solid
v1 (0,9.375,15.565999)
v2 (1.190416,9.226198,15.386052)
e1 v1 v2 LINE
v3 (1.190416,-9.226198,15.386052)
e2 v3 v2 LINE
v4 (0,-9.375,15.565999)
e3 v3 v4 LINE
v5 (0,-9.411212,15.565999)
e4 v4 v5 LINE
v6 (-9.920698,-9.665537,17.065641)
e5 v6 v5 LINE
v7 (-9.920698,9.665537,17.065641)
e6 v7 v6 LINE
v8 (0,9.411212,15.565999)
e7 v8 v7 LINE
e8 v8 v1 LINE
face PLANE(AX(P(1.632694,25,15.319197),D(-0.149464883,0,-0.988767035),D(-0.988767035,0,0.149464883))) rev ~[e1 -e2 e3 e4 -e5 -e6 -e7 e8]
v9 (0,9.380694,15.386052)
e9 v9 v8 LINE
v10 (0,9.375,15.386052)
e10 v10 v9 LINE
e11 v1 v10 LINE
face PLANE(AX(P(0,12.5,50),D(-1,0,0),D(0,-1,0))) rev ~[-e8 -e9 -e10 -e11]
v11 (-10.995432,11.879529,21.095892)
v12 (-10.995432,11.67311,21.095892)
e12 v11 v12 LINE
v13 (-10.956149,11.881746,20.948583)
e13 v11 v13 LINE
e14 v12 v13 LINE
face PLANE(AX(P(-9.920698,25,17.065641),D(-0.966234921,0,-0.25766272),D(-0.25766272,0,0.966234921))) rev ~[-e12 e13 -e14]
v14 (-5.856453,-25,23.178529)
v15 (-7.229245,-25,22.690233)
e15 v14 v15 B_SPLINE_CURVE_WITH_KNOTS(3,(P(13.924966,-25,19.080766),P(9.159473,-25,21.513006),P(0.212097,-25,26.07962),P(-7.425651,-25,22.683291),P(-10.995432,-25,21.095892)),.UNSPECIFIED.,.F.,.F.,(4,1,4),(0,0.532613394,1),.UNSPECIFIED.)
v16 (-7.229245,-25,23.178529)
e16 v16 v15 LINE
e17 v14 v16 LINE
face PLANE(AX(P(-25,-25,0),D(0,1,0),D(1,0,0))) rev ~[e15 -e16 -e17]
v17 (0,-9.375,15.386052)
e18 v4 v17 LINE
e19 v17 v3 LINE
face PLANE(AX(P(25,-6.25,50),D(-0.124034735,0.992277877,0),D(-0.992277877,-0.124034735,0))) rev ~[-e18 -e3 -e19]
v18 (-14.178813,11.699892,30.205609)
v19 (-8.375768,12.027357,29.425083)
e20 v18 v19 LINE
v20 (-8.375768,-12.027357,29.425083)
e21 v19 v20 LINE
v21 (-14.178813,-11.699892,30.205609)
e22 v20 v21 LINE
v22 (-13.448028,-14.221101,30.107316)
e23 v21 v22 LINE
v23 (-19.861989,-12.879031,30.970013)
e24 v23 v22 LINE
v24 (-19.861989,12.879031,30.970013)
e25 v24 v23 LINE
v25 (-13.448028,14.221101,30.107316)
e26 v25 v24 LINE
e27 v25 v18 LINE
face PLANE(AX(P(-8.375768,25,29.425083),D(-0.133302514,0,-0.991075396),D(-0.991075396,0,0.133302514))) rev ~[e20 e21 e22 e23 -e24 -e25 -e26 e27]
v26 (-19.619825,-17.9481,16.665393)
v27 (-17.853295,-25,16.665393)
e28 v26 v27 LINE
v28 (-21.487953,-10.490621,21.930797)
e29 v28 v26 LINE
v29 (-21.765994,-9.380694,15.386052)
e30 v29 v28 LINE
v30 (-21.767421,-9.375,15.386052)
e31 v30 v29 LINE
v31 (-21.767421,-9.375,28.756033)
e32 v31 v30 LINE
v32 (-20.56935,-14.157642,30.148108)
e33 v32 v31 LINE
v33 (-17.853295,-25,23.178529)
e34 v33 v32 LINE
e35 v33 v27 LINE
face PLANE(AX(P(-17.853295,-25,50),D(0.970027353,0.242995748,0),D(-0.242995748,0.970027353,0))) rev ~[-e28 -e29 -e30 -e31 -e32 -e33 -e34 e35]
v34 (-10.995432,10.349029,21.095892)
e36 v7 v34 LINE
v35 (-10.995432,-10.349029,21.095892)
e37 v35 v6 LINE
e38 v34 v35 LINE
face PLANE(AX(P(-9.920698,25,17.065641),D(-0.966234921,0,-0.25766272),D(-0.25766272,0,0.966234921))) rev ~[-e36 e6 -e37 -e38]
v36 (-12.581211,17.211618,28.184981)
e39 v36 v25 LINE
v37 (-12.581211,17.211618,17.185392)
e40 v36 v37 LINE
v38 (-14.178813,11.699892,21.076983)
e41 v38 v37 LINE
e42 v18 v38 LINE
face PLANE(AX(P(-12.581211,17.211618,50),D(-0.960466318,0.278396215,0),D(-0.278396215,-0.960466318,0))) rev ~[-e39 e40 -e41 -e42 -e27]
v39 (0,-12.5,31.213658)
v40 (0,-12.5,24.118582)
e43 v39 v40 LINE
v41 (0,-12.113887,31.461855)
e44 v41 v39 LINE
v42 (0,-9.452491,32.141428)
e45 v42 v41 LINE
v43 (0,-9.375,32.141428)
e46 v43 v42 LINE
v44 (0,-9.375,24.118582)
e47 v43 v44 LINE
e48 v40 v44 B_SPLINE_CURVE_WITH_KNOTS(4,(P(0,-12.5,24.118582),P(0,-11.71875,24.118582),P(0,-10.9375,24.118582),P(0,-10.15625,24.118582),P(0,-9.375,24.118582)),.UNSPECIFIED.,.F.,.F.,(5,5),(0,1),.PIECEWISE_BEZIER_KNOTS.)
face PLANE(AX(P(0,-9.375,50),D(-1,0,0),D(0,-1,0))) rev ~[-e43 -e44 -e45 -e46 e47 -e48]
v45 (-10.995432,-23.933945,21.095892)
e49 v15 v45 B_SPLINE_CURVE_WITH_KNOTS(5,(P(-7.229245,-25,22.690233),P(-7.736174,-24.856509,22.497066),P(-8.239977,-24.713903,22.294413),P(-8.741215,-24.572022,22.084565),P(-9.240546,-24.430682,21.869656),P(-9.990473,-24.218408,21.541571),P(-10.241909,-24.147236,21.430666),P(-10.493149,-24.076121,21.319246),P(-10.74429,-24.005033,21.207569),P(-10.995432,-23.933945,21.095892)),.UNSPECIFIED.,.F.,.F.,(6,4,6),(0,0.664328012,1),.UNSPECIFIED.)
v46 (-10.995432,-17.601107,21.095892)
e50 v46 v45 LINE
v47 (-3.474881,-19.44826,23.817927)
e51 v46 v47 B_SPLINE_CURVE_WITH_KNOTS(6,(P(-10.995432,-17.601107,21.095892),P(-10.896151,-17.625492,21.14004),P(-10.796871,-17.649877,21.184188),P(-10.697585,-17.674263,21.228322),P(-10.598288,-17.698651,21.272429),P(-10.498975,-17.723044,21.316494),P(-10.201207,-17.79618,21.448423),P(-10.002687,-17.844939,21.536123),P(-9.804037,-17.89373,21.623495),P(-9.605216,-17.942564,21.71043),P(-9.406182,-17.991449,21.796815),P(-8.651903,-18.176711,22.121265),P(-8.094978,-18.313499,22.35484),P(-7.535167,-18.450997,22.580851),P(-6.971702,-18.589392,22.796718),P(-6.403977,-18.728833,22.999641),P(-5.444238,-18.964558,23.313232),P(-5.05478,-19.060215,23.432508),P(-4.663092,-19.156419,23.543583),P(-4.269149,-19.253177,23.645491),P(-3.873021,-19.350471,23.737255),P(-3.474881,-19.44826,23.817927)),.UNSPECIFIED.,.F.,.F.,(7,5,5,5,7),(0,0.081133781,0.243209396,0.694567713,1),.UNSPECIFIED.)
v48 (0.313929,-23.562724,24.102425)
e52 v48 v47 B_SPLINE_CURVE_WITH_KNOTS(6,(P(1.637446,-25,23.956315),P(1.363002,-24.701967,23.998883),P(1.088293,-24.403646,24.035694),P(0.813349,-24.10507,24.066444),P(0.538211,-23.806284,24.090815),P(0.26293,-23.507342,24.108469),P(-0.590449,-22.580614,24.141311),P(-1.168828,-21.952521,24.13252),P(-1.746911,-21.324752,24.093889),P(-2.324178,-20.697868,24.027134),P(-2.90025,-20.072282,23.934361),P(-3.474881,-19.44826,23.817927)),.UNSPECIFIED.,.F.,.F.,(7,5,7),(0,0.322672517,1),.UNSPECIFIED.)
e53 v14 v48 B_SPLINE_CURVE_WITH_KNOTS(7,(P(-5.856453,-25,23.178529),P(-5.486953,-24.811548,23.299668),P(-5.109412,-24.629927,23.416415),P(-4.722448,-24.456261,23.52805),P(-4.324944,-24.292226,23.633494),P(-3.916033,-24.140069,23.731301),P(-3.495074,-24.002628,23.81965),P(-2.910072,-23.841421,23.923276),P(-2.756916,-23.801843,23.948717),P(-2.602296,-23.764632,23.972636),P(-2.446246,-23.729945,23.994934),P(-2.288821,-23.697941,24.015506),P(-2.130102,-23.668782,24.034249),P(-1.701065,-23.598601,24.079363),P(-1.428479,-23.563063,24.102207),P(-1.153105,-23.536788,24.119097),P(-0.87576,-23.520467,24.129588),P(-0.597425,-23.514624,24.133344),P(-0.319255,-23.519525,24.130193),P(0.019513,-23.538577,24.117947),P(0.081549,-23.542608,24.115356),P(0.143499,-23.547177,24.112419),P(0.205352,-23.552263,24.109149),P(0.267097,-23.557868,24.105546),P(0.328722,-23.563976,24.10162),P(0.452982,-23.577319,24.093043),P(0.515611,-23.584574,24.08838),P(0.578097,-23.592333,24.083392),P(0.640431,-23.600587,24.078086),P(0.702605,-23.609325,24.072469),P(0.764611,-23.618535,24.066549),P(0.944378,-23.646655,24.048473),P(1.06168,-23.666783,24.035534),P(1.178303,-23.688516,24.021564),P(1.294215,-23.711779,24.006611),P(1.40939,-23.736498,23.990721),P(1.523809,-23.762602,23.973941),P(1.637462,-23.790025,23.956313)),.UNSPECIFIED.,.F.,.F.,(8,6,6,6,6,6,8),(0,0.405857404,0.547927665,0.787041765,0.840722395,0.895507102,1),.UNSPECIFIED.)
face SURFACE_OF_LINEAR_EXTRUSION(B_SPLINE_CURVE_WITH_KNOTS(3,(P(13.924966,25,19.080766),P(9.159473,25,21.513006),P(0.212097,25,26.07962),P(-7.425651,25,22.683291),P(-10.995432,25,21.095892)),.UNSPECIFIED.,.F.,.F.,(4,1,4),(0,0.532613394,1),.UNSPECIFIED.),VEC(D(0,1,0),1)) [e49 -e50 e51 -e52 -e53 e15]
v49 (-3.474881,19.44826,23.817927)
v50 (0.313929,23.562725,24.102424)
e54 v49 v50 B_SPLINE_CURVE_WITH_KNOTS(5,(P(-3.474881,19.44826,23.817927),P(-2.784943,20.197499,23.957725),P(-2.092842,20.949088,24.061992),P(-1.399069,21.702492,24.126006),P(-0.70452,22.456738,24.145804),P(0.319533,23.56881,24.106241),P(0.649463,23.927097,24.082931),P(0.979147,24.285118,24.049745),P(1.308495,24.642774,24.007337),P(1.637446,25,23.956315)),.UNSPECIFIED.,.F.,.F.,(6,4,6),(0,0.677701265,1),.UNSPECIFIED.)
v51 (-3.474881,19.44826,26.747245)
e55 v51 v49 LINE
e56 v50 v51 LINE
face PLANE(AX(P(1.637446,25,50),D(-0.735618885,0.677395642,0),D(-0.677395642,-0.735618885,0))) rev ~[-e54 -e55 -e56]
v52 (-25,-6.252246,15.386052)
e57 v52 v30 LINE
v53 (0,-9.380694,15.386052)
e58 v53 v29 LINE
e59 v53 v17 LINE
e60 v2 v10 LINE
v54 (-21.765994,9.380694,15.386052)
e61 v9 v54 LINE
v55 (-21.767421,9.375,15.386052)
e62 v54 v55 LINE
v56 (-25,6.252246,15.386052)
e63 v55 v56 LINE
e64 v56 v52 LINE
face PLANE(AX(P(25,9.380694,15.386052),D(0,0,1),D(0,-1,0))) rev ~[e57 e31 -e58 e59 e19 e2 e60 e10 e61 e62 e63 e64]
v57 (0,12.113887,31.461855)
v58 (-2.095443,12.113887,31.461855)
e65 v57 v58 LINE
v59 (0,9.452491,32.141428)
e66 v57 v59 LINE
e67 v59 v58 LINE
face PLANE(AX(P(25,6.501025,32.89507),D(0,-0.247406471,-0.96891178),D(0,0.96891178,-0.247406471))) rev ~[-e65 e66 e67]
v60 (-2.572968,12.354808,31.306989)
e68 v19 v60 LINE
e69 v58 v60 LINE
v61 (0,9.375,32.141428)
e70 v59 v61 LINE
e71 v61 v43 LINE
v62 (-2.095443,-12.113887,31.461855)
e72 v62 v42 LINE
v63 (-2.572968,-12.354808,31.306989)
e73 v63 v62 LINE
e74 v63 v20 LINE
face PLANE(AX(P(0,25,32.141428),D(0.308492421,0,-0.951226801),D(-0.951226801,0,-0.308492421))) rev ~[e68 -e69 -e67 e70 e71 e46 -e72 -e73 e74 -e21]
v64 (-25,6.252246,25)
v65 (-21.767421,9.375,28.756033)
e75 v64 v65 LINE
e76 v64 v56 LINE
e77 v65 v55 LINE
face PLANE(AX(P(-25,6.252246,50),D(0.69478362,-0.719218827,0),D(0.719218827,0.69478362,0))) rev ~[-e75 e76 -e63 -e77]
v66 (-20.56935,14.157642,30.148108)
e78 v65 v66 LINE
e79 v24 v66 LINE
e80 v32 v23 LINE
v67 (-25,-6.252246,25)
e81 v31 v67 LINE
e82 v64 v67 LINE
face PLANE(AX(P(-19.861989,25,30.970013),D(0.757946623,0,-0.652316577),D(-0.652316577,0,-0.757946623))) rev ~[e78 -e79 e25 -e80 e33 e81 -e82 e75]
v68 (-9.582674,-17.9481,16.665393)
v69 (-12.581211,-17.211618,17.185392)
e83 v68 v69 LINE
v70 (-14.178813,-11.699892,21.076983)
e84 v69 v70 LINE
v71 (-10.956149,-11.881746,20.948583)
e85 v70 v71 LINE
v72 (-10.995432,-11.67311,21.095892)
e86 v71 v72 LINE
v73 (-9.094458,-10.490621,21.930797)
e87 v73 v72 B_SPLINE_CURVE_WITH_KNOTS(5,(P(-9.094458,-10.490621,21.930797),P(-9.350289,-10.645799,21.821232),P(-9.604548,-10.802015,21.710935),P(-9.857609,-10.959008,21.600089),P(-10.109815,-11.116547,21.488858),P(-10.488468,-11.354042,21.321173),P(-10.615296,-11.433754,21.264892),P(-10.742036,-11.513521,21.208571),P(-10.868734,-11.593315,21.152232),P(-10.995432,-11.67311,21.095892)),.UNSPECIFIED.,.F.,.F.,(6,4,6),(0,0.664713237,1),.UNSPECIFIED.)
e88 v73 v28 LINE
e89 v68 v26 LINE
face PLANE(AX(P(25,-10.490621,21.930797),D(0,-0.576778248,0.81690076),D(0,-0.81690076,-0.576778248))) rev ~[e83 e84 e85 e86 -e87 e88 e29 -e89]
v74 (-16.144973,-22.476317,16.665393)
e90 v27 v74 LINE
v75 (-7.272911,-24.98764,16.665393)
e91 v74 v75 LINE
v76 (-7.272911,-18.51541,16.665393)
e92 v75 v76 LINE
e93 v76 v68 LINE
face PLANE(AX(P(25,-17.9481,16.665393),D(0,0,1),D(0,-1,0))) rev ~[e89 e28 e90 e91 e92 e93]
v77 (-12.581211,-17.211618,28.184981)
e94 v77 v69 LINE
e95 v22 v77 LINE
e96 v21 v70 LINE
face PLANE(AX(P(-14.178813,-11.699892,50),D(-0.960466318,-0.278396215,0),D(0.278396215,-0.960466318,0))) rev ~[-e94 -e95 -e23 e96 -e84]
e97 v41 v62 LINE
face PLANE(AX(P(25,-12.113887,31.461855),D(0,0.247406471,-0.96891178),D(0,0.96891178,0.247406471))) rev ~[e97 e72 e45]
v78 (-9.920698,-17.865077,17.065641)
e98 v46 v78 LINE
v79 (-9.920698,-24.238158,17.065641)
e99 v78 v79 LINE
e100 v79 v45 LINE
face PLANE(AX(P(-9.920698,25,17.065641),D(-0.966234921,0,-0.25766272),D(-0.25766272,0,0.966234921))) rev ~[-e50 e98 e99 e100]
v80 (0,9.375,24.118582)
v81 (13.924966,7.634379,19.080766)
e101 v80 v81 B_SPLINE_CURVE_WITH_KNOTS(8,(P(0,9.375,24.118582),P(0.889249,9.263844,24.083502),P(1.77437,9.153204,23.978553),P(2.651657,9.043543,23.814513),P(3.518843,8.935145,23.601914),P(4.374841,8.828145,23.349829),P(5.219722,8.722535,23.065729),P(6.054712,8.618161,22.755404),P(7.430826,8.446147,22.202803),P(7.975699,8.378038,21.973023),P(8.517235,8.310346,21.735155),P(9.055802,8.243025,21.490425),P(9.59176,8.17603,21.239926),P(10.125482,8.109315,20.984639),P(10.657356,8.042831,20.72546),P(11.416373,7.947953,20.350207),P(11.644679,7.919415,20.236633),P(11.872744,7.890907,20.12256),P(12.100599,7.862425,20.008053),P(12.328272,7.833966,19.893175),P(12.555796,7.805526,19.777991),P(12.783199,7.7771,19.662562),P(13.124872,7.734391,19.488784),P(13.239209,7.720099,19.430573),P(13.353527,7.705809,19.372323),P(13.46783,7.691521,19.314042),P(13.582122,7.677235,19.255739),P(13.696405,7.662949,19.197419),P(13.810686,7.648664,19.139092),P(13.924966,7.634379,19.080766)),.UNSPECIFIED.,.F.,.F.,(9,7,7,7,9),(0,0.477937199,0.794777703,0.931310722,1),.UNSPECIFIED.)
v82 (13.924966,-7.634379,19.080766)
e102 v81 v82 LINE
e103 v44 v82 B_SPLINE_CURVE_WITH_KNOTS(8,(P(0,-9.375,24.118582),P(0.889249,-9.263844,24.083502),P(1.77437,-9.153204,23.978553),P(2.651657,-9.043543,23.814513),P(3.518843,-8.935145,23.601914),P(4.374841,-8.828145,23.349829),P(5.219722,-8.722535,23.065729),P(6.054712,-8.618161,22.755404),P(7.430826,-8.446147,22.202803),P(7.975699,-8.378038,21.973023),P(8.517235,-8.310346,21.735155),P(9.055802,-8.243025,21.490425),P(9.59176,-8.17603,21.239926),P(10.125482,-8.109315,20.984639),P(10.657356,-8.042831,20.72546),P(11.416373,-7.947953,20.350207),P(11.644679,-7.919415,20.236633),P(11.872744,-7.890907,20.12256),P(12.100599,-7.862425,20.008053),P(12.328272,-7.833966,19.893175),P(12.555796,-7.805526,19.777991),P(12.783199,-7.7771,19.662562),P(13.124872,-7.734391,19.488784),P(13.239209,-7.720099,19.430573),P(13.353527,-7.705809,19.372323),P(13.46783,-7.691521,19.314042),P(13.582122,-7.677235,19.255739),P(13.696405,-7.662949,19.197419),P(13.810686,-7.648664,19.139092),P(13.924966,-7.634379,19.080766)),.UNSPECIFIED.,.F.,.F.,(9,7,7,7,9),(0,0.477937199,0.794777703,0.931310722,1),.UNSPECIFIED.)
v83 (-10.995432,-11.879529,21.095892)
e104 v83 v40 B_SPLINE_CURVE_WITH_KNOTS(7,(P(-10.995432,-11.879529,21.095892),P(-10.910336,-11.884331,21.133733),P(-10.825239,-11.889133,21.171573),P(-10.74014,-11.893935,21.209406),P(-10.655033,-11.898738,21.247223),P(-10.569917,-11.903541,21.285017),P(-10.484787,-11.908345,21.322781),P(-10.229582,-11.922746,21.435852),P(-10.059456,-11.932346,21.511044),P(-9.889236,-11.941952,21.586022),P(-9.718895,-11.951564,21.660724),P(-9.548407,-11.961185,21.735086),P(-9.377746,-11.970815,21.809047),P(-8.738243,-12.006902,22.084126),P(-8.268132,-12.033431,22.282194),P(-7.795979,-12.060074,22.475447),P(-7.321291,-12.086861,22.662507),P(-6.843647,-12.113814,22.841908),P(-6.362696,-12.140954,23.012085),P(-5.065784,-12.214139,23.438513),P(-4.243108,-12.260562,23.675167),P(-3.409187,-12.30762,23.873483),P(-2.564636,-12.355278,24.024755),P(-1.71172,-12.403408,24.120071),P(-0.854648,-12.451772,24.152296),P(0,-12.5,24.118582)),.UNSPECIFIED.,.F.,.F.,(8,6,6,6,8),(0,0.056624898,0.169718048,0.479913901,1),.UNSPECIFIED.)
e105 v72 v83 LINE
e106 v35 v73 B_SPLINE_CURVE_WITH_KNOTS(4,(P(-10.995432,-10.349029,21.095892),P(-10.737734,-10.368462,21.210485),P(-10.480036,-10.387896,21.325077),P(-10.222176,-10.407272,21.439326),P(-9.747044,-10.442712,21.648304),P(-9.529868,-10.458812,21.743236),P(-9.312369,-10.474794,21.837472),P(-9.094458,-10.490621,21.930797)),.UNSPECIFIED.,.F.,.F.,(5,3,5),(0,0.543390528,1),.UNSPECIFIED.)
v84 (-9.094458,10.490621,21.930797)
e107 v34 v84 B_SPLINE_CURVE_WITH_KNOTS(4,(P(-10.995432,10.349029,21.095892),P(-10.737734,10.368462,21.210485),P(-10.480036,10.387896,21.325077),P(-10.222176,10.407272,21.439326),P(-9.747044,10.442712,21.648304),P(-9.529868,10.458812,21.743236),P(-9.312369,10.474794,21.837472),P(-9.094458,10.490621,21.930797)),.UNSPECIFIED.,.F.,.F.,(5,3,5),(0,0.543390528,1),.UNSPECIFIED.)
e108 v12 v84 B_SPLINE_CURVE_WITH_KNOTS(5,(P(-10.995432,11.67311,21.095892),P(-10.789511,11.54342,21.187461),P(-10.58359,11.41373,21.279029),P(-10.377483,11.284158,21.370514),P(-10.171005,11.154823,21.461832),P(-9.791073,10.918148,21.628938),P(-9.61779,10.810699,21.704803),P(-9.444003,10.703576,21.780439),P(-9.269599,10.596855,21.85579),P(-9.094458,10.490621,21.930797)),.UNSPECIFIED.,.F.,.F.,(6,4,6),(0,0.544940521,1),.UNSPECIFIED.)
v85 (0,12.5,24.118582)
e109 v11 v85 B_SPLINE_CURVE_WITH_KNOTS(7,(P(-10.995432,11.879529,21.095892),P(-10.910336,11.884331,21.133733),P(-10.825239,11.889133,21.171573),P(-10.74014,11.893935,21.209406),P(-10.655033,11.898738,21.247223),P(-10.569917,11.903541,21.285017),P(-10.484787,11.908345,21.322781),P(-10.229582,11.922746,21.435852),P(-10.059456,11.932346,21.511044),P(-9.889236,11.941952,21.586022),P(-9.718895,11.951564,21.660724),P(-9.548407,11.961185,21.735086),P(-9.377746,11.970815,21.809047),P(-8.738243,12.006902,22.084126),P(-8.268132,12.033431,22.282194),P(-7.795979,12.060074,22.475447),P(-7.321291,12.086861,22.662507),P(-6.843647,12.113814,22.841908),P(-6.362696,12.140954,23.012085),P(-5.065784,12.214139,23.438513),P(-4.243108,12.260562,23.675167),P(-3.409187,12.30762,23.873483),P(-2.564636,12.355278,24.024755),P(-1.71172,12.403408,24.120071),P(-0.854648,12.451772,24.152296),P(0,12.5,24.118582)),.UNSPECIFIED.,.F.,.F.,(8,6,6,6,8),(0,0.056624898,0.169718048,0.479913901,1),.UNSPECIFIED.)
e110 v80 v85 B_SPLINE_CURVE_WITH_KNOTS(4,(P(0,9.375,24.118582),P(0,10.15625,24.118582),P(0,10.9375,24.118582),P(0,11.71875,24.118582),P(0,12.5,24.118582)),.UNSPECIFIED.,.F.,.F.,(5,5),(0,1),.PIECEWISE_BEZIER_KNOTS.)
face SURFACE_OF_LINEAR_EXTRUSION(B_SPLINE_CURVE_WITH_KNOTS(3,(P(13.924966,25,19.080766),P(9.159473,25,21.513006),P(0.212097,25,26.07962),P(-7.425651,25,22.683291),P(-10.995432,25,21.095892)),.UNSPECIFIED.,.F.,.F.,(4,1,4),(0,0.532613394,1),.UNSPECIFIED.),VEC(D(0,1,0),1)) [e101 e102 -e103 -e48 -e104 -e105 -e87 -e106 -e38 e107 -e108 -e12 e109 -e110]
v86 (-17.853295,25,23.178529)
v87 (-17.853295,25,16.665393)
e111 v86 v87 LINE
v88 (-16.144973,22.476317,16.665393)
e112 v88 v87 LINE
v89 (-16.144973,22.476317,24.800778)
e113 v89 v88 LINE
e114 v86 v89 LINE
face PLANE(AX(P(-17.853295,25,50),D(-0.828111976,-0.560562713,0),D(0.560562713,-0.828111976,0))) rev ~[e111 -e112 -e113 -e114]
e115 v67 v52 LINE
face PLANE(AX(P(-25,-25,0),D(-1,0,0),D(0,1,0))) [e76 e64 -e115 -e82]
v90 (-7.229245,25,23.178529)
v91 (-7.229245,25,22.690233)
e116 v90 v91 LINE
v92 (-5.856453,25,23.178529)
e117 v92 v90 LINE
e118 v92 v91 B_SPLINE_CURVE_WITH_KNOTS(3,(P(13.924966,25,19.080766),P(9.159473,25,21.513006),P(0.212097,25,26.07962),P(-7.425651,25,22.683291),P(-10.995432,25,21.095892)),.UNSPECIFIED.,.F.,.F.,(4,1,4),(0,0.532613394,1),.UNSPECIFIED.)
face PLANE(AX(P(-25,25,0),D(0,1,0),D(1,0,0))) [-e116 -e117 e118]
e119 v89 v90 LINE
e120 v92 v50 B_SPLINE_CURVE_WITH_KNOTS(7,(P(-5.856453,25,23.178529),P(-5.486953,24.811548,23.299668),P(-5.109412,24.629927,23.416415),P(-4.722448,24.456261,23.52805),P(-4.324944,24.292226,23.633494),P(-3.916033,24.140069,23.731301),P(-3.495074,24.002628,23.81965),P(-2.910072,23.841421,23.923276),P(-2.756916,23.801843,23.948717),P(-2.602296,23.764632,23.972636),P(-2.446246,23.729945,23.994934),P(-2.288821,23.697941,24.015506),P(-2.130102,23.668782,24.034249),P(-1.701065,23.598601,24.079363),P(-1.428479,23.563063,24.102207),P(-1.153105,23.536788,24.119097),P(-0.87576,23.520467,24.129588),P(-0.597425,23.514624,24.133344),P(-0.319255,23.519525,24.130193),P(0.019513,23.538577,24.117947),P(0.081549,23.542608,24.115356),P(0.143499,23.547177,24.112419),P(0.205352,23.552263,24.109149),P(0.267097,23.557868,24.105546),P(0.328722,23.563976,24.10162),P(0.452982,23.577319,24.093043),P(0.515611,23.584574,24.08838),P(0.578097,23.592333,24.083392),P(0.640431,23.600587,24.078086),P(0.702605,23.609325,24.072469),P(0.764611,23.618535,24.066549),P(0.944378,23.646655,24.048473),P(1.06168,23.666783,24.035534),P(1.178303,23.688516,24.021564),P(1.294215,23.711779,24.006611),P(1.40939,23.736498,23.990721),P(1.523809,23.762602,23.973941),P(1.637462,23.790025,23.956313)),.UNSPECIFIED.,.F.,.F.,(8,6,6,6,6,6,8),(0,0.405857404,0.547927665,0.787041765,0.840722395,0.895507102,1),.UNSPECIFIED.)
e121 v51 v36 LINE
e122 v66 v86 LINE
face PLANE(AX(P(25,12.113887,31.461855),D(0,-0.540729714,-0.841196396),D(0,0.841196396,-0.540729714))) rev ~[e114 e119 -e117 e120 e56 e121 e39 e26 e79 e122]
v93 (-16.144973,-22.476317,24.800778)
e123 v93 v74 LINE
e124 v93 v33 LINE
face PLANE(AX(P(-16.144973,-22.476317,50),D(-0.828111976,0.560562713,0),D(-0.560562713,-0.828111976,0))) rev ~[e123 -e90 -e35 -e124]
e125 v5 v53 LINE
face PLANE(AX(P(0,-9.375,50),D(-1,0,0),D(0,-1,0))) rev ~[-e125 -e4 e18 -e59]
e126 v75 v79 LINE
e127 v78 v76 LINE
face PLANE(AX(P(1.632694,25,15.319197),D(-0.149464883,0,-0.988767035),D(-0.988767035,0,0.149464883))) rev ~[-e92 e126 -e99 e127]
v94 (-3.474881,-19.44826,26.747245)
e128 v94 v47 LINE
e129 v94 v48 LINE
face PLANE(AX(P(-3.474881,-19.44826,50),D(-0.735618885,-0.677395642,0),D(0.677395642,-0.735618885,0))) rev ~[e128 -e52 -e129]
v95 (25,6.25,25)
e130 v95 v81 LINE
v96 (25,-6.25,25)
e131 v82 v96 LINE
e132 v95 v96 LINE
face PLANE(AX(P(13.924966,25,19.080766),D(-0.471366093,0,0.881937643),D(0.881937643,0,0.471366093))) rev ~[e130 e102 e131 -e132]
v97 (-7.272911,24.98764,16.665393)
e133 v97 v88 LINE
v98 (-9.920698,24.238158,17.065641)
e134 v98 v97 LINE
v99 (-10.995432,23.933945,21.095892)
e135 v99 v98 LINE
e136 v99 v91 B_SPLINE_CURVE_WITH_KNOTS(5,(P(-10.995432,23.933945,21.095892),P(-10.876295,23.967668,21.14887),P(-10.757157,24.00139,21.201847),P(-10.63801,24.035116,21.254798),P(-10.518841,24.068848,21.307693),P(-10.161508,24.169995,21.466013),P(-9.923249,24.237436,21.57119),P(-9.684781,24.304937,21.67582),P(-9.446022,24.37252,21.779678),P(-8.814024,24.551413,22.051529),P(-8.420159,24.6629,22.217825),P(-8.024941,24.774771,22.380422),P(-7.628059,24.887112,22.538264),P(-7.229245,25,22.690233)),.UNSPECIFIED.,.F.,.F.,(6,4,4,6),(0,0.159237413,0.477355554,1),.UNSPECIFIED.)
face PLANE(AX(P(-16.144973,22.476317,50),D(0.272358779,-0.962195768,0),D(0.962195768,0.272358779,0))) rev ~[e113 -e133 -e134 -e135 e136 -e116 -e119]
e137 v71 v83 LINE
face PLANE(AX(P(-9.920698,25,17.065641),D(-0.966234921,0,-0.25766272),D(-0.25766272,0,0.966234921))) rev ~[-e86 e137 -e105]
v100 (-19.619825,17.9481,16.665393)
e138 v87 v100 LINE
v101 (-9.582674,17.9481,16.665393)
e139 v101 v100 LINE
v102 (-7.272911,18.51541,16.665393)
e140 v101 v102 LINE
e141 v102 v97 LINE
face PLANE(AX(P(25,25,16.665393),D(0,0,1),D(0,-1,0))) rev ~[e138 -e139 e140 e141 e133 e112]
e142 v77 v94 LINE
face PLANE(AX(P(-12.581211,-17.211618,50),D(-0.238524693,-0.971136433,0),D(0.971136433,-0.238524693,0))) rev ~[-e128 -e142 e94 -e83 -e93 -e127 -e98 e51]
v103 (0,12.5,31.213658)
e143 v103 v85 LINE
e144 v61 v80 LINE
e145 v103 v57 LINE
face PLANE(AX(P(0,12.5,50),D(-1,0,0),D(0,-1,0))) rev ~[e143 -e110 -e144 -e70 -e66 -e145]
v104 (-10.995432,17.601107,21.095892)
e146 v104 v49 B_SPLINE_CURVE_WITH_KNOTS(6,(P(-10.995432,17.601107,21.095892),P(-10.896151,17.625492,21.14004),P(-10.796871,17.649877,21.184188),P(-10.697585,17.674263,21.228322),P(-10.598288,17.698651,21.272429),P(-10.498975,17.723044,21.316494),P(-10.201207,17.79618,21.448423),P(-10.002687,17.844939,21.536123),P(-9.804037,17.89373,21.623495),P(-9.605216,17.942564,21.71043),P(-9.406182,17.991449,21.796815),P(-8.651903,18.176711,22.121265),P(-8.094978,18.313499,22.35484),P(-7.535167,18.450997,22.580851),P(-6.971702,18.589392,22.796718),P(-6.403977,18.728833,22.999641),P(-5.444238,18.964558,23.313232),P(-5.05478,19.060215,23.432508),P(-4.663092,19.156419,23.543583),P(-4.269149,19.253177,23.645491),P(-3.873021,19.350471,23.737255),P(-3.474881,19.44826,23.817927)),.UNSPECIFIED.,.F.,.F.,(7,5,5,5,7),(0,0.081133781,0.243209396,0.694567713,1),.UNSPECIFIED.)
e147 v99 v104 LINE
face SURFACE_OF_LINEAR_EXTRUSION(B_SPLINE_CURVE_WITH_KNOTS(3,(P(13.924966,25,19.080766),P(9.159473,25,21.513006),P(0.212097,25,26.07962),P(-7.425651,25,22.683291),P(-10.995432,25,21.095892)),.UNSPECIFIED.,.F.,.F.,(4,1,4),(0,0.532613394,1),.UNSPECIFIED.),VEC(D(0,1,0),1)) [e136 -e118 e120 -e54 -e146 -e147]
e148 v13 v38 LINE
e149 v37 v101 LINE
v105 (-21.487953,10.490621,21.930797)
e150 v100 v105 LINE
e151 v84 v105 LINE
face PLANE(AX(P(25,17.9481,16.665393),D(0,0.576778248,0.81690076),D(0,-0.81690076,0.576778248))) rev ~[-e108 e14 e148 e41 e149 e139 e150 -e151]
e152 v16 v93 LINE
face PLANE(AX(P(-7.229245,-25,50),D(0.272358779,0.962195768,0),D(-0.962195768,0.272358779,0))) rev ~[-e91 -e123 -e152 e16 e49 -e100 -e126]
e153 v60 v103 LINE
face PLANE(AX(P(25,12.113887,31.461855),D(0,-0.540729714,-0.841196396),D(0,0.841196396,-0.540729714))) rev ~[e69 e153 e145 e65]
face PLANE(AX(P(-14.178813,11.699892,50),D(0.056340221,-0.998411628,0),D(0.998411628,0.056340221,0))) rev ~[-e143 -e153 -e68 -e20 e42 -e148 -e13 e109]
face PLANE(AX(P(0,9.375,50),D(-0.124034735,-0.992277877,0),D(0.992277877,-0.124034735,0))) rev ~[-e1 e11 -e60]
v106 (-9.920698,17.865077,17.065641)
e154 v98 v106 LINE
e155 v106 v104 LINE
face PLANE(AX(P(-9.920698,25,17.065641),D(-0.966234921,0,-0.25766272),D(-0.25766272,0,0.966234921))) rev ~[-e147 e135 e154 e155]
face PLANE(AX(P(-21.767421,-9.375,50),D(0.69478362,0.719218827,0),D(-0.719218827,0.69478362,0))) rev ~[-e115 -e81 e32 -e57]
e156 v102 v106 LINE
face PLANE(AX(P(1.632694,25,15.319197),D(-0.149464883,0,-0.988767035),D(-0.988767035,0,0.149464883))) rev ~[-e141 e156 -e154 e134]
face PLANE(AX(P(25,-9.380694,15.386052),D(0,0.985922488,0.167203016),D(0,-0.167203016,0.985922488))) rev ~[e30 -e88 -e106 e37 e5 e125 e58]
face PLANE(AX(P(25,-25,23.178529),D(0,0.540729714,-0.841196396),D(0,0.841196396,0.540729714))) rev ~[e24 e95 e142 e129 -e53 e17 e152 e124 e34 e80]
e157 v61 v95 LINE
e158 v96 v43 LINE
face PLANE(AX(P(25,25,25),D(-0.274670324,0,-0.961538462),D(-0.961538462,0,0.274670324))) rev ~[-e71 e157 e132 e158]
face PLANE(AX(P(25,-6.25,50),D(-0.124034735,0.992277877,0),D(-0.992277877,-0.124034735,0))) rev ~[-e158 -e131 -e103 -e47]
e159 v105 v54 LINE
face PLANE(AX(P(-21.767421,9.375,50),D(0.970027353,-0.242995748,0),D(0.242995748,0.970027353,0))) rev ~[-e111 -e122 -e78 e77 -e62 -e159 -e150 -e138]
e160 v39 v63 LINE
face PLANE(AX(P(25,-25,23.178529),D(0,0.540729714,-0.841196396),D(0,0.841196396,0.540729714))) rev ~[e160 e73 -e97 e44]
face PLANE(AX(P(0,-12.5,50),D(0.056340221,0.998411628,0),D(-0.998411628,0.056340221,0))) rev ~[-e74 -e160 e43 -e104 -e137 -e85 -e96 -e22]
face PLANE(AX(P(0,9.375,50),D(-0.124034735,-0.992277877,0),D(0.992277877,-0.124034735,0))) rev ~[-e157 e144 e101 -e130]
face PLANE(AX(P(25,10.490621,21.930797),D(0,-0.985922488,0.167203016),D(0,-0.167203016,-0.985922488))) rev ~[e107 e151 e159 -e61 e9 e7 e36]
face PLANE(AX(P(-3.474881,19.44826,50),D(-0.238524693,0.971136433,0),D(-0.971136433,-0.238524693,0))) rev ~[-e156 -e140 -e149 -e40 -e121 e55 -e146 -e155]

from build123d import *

# Parameters (mm, degrees)
F0_W     = 50
F0_H     = 50
F1_DEPTH = 50
F5_DEPTH = 50
F6_DEPTH = 50
F7_DEPTH = 50


with BuildPart() as f1:
    # F0 (on Top) → F1 (new body)
    with BuildSketch(Plane.XY):
        Rectangle(F0_W, F0_H)
    extrude(amount=F1_DEPTH)

    # F4 (on face) → F5 (cut)
    with BuildSketch(Plane.XY.offset(50)):
        Polygon((-21.7674206942, -9.375), (-25, -6.2522464432), (-25, -25), (-17.8532954305, -25), align=None)
        Polygon((-17.8532954305, -25), (-7.2292452678, -25), (-16.1449728927, -22.4763174233), align=None)
        Polygon((-25, 25), (-25, 6.2522464432), (-21.7674206942, 9.375), (-17.8532954305, 25), align=None)
        Polygon((-7.2292452678, 25), (-17.8532954305, 25), (-16.1449728927, 22.4763174233), align=None)
        Polygon((0, 9.375), (25, 6.25), (25, 25), (1.6374464612, 25), (-3.4748809412, 19.4482598454), (-12.5812105834, 17.2116179019), (-14.1788134351, 11.6998916492), (0, 12.5), align=None)
        Polygon((25, -6.25), (0, -9.375), (0, -12.5), (-14.1788134351, -11.6998916492), (-12.5812105834, -17.2116179019), (-3.4748809412, -19.4482598454), (1.6374464612, -25), (25, -25), align=None)
    extrude(amount=-F5_DEPTH, mode=Mode.SUBTRACT)

    # F2 (on face) → F6 (cut)
    with BuildSketch(Plane(origin=(0, 25, 0), x_dir=(-1, 0, 0), z_dir=(0, 1, 0))):
        Polygon((-25, 50), (-25, 25), (0, 32.1414284285), (8.3757676184, 29.4250827283), (19.8619887233, 30.9700127691), (25, 25), (25, 50), align=None)
        with BuildLine():
            Line((-13.9249656349, 19.0807655454), (-25, 25))
            Line((-25, 25), (-25, 0))
            Line((-25, 0), (25, 0))
            Line((25, 0), (25, 15.3191965073))
            Line((25, 15.3191965073), (-1.6326936893, 15.3191965073))
            Line((-1.6326936893, 15.3191965073), (9.9206976593, 17.0656405389))
            Line((9.9206976593, 17.0656405389), (10.9954318032, 21.0958924145))
            add(Edge.make_bspline(
                [(-13.9249656349, 19.0807655454), (-9.159473278, 21.5130057184), (-0.2120971707, 26.0796204523), (7.4256507336, 22.683291211), (10.9954318032, 21.0958924145)],
                knots=[0, 0, 0, 0, 0.5326133941, 1, 1, 1, 1], degree=3))
        make_face()
    extrude(amount=-F6_DEPTH, mode=Mode.SUBTRACT)

    # F3 (on face) → F7 (cut)
    with BuildSketch(Plane.YZ.offset(25)):
        Polygon((-25, 50), (-25, 23.1785289943), (-12.1138873269, 31.4618550395), (-6.5010248844, 32.8950696164), (0, 32.8950696164), (6.5010248844, 32.8950696164), (12.1138873269, 31.4618550395), (25, 23.1785289943), (25, 50), align=None)
        Polygon((-17.9481003433, 16.6653934866), (-25, 16.6653934866), (-25, 0), (25, 0), (25, 16.6653934866), (17.9481003433, 16.6653934866), (10.4906205088, 21.9307970256), (9.3806944788, 15.3860524297), (0, 15.3860524297), (-9.3806944788, 15.3860524297), (-10.4906205088, 21.9307970256), align=None)
    extrude(amount=-F7_DEPTH, mode=Mode.SUBTRACT)


solid = f1.part
